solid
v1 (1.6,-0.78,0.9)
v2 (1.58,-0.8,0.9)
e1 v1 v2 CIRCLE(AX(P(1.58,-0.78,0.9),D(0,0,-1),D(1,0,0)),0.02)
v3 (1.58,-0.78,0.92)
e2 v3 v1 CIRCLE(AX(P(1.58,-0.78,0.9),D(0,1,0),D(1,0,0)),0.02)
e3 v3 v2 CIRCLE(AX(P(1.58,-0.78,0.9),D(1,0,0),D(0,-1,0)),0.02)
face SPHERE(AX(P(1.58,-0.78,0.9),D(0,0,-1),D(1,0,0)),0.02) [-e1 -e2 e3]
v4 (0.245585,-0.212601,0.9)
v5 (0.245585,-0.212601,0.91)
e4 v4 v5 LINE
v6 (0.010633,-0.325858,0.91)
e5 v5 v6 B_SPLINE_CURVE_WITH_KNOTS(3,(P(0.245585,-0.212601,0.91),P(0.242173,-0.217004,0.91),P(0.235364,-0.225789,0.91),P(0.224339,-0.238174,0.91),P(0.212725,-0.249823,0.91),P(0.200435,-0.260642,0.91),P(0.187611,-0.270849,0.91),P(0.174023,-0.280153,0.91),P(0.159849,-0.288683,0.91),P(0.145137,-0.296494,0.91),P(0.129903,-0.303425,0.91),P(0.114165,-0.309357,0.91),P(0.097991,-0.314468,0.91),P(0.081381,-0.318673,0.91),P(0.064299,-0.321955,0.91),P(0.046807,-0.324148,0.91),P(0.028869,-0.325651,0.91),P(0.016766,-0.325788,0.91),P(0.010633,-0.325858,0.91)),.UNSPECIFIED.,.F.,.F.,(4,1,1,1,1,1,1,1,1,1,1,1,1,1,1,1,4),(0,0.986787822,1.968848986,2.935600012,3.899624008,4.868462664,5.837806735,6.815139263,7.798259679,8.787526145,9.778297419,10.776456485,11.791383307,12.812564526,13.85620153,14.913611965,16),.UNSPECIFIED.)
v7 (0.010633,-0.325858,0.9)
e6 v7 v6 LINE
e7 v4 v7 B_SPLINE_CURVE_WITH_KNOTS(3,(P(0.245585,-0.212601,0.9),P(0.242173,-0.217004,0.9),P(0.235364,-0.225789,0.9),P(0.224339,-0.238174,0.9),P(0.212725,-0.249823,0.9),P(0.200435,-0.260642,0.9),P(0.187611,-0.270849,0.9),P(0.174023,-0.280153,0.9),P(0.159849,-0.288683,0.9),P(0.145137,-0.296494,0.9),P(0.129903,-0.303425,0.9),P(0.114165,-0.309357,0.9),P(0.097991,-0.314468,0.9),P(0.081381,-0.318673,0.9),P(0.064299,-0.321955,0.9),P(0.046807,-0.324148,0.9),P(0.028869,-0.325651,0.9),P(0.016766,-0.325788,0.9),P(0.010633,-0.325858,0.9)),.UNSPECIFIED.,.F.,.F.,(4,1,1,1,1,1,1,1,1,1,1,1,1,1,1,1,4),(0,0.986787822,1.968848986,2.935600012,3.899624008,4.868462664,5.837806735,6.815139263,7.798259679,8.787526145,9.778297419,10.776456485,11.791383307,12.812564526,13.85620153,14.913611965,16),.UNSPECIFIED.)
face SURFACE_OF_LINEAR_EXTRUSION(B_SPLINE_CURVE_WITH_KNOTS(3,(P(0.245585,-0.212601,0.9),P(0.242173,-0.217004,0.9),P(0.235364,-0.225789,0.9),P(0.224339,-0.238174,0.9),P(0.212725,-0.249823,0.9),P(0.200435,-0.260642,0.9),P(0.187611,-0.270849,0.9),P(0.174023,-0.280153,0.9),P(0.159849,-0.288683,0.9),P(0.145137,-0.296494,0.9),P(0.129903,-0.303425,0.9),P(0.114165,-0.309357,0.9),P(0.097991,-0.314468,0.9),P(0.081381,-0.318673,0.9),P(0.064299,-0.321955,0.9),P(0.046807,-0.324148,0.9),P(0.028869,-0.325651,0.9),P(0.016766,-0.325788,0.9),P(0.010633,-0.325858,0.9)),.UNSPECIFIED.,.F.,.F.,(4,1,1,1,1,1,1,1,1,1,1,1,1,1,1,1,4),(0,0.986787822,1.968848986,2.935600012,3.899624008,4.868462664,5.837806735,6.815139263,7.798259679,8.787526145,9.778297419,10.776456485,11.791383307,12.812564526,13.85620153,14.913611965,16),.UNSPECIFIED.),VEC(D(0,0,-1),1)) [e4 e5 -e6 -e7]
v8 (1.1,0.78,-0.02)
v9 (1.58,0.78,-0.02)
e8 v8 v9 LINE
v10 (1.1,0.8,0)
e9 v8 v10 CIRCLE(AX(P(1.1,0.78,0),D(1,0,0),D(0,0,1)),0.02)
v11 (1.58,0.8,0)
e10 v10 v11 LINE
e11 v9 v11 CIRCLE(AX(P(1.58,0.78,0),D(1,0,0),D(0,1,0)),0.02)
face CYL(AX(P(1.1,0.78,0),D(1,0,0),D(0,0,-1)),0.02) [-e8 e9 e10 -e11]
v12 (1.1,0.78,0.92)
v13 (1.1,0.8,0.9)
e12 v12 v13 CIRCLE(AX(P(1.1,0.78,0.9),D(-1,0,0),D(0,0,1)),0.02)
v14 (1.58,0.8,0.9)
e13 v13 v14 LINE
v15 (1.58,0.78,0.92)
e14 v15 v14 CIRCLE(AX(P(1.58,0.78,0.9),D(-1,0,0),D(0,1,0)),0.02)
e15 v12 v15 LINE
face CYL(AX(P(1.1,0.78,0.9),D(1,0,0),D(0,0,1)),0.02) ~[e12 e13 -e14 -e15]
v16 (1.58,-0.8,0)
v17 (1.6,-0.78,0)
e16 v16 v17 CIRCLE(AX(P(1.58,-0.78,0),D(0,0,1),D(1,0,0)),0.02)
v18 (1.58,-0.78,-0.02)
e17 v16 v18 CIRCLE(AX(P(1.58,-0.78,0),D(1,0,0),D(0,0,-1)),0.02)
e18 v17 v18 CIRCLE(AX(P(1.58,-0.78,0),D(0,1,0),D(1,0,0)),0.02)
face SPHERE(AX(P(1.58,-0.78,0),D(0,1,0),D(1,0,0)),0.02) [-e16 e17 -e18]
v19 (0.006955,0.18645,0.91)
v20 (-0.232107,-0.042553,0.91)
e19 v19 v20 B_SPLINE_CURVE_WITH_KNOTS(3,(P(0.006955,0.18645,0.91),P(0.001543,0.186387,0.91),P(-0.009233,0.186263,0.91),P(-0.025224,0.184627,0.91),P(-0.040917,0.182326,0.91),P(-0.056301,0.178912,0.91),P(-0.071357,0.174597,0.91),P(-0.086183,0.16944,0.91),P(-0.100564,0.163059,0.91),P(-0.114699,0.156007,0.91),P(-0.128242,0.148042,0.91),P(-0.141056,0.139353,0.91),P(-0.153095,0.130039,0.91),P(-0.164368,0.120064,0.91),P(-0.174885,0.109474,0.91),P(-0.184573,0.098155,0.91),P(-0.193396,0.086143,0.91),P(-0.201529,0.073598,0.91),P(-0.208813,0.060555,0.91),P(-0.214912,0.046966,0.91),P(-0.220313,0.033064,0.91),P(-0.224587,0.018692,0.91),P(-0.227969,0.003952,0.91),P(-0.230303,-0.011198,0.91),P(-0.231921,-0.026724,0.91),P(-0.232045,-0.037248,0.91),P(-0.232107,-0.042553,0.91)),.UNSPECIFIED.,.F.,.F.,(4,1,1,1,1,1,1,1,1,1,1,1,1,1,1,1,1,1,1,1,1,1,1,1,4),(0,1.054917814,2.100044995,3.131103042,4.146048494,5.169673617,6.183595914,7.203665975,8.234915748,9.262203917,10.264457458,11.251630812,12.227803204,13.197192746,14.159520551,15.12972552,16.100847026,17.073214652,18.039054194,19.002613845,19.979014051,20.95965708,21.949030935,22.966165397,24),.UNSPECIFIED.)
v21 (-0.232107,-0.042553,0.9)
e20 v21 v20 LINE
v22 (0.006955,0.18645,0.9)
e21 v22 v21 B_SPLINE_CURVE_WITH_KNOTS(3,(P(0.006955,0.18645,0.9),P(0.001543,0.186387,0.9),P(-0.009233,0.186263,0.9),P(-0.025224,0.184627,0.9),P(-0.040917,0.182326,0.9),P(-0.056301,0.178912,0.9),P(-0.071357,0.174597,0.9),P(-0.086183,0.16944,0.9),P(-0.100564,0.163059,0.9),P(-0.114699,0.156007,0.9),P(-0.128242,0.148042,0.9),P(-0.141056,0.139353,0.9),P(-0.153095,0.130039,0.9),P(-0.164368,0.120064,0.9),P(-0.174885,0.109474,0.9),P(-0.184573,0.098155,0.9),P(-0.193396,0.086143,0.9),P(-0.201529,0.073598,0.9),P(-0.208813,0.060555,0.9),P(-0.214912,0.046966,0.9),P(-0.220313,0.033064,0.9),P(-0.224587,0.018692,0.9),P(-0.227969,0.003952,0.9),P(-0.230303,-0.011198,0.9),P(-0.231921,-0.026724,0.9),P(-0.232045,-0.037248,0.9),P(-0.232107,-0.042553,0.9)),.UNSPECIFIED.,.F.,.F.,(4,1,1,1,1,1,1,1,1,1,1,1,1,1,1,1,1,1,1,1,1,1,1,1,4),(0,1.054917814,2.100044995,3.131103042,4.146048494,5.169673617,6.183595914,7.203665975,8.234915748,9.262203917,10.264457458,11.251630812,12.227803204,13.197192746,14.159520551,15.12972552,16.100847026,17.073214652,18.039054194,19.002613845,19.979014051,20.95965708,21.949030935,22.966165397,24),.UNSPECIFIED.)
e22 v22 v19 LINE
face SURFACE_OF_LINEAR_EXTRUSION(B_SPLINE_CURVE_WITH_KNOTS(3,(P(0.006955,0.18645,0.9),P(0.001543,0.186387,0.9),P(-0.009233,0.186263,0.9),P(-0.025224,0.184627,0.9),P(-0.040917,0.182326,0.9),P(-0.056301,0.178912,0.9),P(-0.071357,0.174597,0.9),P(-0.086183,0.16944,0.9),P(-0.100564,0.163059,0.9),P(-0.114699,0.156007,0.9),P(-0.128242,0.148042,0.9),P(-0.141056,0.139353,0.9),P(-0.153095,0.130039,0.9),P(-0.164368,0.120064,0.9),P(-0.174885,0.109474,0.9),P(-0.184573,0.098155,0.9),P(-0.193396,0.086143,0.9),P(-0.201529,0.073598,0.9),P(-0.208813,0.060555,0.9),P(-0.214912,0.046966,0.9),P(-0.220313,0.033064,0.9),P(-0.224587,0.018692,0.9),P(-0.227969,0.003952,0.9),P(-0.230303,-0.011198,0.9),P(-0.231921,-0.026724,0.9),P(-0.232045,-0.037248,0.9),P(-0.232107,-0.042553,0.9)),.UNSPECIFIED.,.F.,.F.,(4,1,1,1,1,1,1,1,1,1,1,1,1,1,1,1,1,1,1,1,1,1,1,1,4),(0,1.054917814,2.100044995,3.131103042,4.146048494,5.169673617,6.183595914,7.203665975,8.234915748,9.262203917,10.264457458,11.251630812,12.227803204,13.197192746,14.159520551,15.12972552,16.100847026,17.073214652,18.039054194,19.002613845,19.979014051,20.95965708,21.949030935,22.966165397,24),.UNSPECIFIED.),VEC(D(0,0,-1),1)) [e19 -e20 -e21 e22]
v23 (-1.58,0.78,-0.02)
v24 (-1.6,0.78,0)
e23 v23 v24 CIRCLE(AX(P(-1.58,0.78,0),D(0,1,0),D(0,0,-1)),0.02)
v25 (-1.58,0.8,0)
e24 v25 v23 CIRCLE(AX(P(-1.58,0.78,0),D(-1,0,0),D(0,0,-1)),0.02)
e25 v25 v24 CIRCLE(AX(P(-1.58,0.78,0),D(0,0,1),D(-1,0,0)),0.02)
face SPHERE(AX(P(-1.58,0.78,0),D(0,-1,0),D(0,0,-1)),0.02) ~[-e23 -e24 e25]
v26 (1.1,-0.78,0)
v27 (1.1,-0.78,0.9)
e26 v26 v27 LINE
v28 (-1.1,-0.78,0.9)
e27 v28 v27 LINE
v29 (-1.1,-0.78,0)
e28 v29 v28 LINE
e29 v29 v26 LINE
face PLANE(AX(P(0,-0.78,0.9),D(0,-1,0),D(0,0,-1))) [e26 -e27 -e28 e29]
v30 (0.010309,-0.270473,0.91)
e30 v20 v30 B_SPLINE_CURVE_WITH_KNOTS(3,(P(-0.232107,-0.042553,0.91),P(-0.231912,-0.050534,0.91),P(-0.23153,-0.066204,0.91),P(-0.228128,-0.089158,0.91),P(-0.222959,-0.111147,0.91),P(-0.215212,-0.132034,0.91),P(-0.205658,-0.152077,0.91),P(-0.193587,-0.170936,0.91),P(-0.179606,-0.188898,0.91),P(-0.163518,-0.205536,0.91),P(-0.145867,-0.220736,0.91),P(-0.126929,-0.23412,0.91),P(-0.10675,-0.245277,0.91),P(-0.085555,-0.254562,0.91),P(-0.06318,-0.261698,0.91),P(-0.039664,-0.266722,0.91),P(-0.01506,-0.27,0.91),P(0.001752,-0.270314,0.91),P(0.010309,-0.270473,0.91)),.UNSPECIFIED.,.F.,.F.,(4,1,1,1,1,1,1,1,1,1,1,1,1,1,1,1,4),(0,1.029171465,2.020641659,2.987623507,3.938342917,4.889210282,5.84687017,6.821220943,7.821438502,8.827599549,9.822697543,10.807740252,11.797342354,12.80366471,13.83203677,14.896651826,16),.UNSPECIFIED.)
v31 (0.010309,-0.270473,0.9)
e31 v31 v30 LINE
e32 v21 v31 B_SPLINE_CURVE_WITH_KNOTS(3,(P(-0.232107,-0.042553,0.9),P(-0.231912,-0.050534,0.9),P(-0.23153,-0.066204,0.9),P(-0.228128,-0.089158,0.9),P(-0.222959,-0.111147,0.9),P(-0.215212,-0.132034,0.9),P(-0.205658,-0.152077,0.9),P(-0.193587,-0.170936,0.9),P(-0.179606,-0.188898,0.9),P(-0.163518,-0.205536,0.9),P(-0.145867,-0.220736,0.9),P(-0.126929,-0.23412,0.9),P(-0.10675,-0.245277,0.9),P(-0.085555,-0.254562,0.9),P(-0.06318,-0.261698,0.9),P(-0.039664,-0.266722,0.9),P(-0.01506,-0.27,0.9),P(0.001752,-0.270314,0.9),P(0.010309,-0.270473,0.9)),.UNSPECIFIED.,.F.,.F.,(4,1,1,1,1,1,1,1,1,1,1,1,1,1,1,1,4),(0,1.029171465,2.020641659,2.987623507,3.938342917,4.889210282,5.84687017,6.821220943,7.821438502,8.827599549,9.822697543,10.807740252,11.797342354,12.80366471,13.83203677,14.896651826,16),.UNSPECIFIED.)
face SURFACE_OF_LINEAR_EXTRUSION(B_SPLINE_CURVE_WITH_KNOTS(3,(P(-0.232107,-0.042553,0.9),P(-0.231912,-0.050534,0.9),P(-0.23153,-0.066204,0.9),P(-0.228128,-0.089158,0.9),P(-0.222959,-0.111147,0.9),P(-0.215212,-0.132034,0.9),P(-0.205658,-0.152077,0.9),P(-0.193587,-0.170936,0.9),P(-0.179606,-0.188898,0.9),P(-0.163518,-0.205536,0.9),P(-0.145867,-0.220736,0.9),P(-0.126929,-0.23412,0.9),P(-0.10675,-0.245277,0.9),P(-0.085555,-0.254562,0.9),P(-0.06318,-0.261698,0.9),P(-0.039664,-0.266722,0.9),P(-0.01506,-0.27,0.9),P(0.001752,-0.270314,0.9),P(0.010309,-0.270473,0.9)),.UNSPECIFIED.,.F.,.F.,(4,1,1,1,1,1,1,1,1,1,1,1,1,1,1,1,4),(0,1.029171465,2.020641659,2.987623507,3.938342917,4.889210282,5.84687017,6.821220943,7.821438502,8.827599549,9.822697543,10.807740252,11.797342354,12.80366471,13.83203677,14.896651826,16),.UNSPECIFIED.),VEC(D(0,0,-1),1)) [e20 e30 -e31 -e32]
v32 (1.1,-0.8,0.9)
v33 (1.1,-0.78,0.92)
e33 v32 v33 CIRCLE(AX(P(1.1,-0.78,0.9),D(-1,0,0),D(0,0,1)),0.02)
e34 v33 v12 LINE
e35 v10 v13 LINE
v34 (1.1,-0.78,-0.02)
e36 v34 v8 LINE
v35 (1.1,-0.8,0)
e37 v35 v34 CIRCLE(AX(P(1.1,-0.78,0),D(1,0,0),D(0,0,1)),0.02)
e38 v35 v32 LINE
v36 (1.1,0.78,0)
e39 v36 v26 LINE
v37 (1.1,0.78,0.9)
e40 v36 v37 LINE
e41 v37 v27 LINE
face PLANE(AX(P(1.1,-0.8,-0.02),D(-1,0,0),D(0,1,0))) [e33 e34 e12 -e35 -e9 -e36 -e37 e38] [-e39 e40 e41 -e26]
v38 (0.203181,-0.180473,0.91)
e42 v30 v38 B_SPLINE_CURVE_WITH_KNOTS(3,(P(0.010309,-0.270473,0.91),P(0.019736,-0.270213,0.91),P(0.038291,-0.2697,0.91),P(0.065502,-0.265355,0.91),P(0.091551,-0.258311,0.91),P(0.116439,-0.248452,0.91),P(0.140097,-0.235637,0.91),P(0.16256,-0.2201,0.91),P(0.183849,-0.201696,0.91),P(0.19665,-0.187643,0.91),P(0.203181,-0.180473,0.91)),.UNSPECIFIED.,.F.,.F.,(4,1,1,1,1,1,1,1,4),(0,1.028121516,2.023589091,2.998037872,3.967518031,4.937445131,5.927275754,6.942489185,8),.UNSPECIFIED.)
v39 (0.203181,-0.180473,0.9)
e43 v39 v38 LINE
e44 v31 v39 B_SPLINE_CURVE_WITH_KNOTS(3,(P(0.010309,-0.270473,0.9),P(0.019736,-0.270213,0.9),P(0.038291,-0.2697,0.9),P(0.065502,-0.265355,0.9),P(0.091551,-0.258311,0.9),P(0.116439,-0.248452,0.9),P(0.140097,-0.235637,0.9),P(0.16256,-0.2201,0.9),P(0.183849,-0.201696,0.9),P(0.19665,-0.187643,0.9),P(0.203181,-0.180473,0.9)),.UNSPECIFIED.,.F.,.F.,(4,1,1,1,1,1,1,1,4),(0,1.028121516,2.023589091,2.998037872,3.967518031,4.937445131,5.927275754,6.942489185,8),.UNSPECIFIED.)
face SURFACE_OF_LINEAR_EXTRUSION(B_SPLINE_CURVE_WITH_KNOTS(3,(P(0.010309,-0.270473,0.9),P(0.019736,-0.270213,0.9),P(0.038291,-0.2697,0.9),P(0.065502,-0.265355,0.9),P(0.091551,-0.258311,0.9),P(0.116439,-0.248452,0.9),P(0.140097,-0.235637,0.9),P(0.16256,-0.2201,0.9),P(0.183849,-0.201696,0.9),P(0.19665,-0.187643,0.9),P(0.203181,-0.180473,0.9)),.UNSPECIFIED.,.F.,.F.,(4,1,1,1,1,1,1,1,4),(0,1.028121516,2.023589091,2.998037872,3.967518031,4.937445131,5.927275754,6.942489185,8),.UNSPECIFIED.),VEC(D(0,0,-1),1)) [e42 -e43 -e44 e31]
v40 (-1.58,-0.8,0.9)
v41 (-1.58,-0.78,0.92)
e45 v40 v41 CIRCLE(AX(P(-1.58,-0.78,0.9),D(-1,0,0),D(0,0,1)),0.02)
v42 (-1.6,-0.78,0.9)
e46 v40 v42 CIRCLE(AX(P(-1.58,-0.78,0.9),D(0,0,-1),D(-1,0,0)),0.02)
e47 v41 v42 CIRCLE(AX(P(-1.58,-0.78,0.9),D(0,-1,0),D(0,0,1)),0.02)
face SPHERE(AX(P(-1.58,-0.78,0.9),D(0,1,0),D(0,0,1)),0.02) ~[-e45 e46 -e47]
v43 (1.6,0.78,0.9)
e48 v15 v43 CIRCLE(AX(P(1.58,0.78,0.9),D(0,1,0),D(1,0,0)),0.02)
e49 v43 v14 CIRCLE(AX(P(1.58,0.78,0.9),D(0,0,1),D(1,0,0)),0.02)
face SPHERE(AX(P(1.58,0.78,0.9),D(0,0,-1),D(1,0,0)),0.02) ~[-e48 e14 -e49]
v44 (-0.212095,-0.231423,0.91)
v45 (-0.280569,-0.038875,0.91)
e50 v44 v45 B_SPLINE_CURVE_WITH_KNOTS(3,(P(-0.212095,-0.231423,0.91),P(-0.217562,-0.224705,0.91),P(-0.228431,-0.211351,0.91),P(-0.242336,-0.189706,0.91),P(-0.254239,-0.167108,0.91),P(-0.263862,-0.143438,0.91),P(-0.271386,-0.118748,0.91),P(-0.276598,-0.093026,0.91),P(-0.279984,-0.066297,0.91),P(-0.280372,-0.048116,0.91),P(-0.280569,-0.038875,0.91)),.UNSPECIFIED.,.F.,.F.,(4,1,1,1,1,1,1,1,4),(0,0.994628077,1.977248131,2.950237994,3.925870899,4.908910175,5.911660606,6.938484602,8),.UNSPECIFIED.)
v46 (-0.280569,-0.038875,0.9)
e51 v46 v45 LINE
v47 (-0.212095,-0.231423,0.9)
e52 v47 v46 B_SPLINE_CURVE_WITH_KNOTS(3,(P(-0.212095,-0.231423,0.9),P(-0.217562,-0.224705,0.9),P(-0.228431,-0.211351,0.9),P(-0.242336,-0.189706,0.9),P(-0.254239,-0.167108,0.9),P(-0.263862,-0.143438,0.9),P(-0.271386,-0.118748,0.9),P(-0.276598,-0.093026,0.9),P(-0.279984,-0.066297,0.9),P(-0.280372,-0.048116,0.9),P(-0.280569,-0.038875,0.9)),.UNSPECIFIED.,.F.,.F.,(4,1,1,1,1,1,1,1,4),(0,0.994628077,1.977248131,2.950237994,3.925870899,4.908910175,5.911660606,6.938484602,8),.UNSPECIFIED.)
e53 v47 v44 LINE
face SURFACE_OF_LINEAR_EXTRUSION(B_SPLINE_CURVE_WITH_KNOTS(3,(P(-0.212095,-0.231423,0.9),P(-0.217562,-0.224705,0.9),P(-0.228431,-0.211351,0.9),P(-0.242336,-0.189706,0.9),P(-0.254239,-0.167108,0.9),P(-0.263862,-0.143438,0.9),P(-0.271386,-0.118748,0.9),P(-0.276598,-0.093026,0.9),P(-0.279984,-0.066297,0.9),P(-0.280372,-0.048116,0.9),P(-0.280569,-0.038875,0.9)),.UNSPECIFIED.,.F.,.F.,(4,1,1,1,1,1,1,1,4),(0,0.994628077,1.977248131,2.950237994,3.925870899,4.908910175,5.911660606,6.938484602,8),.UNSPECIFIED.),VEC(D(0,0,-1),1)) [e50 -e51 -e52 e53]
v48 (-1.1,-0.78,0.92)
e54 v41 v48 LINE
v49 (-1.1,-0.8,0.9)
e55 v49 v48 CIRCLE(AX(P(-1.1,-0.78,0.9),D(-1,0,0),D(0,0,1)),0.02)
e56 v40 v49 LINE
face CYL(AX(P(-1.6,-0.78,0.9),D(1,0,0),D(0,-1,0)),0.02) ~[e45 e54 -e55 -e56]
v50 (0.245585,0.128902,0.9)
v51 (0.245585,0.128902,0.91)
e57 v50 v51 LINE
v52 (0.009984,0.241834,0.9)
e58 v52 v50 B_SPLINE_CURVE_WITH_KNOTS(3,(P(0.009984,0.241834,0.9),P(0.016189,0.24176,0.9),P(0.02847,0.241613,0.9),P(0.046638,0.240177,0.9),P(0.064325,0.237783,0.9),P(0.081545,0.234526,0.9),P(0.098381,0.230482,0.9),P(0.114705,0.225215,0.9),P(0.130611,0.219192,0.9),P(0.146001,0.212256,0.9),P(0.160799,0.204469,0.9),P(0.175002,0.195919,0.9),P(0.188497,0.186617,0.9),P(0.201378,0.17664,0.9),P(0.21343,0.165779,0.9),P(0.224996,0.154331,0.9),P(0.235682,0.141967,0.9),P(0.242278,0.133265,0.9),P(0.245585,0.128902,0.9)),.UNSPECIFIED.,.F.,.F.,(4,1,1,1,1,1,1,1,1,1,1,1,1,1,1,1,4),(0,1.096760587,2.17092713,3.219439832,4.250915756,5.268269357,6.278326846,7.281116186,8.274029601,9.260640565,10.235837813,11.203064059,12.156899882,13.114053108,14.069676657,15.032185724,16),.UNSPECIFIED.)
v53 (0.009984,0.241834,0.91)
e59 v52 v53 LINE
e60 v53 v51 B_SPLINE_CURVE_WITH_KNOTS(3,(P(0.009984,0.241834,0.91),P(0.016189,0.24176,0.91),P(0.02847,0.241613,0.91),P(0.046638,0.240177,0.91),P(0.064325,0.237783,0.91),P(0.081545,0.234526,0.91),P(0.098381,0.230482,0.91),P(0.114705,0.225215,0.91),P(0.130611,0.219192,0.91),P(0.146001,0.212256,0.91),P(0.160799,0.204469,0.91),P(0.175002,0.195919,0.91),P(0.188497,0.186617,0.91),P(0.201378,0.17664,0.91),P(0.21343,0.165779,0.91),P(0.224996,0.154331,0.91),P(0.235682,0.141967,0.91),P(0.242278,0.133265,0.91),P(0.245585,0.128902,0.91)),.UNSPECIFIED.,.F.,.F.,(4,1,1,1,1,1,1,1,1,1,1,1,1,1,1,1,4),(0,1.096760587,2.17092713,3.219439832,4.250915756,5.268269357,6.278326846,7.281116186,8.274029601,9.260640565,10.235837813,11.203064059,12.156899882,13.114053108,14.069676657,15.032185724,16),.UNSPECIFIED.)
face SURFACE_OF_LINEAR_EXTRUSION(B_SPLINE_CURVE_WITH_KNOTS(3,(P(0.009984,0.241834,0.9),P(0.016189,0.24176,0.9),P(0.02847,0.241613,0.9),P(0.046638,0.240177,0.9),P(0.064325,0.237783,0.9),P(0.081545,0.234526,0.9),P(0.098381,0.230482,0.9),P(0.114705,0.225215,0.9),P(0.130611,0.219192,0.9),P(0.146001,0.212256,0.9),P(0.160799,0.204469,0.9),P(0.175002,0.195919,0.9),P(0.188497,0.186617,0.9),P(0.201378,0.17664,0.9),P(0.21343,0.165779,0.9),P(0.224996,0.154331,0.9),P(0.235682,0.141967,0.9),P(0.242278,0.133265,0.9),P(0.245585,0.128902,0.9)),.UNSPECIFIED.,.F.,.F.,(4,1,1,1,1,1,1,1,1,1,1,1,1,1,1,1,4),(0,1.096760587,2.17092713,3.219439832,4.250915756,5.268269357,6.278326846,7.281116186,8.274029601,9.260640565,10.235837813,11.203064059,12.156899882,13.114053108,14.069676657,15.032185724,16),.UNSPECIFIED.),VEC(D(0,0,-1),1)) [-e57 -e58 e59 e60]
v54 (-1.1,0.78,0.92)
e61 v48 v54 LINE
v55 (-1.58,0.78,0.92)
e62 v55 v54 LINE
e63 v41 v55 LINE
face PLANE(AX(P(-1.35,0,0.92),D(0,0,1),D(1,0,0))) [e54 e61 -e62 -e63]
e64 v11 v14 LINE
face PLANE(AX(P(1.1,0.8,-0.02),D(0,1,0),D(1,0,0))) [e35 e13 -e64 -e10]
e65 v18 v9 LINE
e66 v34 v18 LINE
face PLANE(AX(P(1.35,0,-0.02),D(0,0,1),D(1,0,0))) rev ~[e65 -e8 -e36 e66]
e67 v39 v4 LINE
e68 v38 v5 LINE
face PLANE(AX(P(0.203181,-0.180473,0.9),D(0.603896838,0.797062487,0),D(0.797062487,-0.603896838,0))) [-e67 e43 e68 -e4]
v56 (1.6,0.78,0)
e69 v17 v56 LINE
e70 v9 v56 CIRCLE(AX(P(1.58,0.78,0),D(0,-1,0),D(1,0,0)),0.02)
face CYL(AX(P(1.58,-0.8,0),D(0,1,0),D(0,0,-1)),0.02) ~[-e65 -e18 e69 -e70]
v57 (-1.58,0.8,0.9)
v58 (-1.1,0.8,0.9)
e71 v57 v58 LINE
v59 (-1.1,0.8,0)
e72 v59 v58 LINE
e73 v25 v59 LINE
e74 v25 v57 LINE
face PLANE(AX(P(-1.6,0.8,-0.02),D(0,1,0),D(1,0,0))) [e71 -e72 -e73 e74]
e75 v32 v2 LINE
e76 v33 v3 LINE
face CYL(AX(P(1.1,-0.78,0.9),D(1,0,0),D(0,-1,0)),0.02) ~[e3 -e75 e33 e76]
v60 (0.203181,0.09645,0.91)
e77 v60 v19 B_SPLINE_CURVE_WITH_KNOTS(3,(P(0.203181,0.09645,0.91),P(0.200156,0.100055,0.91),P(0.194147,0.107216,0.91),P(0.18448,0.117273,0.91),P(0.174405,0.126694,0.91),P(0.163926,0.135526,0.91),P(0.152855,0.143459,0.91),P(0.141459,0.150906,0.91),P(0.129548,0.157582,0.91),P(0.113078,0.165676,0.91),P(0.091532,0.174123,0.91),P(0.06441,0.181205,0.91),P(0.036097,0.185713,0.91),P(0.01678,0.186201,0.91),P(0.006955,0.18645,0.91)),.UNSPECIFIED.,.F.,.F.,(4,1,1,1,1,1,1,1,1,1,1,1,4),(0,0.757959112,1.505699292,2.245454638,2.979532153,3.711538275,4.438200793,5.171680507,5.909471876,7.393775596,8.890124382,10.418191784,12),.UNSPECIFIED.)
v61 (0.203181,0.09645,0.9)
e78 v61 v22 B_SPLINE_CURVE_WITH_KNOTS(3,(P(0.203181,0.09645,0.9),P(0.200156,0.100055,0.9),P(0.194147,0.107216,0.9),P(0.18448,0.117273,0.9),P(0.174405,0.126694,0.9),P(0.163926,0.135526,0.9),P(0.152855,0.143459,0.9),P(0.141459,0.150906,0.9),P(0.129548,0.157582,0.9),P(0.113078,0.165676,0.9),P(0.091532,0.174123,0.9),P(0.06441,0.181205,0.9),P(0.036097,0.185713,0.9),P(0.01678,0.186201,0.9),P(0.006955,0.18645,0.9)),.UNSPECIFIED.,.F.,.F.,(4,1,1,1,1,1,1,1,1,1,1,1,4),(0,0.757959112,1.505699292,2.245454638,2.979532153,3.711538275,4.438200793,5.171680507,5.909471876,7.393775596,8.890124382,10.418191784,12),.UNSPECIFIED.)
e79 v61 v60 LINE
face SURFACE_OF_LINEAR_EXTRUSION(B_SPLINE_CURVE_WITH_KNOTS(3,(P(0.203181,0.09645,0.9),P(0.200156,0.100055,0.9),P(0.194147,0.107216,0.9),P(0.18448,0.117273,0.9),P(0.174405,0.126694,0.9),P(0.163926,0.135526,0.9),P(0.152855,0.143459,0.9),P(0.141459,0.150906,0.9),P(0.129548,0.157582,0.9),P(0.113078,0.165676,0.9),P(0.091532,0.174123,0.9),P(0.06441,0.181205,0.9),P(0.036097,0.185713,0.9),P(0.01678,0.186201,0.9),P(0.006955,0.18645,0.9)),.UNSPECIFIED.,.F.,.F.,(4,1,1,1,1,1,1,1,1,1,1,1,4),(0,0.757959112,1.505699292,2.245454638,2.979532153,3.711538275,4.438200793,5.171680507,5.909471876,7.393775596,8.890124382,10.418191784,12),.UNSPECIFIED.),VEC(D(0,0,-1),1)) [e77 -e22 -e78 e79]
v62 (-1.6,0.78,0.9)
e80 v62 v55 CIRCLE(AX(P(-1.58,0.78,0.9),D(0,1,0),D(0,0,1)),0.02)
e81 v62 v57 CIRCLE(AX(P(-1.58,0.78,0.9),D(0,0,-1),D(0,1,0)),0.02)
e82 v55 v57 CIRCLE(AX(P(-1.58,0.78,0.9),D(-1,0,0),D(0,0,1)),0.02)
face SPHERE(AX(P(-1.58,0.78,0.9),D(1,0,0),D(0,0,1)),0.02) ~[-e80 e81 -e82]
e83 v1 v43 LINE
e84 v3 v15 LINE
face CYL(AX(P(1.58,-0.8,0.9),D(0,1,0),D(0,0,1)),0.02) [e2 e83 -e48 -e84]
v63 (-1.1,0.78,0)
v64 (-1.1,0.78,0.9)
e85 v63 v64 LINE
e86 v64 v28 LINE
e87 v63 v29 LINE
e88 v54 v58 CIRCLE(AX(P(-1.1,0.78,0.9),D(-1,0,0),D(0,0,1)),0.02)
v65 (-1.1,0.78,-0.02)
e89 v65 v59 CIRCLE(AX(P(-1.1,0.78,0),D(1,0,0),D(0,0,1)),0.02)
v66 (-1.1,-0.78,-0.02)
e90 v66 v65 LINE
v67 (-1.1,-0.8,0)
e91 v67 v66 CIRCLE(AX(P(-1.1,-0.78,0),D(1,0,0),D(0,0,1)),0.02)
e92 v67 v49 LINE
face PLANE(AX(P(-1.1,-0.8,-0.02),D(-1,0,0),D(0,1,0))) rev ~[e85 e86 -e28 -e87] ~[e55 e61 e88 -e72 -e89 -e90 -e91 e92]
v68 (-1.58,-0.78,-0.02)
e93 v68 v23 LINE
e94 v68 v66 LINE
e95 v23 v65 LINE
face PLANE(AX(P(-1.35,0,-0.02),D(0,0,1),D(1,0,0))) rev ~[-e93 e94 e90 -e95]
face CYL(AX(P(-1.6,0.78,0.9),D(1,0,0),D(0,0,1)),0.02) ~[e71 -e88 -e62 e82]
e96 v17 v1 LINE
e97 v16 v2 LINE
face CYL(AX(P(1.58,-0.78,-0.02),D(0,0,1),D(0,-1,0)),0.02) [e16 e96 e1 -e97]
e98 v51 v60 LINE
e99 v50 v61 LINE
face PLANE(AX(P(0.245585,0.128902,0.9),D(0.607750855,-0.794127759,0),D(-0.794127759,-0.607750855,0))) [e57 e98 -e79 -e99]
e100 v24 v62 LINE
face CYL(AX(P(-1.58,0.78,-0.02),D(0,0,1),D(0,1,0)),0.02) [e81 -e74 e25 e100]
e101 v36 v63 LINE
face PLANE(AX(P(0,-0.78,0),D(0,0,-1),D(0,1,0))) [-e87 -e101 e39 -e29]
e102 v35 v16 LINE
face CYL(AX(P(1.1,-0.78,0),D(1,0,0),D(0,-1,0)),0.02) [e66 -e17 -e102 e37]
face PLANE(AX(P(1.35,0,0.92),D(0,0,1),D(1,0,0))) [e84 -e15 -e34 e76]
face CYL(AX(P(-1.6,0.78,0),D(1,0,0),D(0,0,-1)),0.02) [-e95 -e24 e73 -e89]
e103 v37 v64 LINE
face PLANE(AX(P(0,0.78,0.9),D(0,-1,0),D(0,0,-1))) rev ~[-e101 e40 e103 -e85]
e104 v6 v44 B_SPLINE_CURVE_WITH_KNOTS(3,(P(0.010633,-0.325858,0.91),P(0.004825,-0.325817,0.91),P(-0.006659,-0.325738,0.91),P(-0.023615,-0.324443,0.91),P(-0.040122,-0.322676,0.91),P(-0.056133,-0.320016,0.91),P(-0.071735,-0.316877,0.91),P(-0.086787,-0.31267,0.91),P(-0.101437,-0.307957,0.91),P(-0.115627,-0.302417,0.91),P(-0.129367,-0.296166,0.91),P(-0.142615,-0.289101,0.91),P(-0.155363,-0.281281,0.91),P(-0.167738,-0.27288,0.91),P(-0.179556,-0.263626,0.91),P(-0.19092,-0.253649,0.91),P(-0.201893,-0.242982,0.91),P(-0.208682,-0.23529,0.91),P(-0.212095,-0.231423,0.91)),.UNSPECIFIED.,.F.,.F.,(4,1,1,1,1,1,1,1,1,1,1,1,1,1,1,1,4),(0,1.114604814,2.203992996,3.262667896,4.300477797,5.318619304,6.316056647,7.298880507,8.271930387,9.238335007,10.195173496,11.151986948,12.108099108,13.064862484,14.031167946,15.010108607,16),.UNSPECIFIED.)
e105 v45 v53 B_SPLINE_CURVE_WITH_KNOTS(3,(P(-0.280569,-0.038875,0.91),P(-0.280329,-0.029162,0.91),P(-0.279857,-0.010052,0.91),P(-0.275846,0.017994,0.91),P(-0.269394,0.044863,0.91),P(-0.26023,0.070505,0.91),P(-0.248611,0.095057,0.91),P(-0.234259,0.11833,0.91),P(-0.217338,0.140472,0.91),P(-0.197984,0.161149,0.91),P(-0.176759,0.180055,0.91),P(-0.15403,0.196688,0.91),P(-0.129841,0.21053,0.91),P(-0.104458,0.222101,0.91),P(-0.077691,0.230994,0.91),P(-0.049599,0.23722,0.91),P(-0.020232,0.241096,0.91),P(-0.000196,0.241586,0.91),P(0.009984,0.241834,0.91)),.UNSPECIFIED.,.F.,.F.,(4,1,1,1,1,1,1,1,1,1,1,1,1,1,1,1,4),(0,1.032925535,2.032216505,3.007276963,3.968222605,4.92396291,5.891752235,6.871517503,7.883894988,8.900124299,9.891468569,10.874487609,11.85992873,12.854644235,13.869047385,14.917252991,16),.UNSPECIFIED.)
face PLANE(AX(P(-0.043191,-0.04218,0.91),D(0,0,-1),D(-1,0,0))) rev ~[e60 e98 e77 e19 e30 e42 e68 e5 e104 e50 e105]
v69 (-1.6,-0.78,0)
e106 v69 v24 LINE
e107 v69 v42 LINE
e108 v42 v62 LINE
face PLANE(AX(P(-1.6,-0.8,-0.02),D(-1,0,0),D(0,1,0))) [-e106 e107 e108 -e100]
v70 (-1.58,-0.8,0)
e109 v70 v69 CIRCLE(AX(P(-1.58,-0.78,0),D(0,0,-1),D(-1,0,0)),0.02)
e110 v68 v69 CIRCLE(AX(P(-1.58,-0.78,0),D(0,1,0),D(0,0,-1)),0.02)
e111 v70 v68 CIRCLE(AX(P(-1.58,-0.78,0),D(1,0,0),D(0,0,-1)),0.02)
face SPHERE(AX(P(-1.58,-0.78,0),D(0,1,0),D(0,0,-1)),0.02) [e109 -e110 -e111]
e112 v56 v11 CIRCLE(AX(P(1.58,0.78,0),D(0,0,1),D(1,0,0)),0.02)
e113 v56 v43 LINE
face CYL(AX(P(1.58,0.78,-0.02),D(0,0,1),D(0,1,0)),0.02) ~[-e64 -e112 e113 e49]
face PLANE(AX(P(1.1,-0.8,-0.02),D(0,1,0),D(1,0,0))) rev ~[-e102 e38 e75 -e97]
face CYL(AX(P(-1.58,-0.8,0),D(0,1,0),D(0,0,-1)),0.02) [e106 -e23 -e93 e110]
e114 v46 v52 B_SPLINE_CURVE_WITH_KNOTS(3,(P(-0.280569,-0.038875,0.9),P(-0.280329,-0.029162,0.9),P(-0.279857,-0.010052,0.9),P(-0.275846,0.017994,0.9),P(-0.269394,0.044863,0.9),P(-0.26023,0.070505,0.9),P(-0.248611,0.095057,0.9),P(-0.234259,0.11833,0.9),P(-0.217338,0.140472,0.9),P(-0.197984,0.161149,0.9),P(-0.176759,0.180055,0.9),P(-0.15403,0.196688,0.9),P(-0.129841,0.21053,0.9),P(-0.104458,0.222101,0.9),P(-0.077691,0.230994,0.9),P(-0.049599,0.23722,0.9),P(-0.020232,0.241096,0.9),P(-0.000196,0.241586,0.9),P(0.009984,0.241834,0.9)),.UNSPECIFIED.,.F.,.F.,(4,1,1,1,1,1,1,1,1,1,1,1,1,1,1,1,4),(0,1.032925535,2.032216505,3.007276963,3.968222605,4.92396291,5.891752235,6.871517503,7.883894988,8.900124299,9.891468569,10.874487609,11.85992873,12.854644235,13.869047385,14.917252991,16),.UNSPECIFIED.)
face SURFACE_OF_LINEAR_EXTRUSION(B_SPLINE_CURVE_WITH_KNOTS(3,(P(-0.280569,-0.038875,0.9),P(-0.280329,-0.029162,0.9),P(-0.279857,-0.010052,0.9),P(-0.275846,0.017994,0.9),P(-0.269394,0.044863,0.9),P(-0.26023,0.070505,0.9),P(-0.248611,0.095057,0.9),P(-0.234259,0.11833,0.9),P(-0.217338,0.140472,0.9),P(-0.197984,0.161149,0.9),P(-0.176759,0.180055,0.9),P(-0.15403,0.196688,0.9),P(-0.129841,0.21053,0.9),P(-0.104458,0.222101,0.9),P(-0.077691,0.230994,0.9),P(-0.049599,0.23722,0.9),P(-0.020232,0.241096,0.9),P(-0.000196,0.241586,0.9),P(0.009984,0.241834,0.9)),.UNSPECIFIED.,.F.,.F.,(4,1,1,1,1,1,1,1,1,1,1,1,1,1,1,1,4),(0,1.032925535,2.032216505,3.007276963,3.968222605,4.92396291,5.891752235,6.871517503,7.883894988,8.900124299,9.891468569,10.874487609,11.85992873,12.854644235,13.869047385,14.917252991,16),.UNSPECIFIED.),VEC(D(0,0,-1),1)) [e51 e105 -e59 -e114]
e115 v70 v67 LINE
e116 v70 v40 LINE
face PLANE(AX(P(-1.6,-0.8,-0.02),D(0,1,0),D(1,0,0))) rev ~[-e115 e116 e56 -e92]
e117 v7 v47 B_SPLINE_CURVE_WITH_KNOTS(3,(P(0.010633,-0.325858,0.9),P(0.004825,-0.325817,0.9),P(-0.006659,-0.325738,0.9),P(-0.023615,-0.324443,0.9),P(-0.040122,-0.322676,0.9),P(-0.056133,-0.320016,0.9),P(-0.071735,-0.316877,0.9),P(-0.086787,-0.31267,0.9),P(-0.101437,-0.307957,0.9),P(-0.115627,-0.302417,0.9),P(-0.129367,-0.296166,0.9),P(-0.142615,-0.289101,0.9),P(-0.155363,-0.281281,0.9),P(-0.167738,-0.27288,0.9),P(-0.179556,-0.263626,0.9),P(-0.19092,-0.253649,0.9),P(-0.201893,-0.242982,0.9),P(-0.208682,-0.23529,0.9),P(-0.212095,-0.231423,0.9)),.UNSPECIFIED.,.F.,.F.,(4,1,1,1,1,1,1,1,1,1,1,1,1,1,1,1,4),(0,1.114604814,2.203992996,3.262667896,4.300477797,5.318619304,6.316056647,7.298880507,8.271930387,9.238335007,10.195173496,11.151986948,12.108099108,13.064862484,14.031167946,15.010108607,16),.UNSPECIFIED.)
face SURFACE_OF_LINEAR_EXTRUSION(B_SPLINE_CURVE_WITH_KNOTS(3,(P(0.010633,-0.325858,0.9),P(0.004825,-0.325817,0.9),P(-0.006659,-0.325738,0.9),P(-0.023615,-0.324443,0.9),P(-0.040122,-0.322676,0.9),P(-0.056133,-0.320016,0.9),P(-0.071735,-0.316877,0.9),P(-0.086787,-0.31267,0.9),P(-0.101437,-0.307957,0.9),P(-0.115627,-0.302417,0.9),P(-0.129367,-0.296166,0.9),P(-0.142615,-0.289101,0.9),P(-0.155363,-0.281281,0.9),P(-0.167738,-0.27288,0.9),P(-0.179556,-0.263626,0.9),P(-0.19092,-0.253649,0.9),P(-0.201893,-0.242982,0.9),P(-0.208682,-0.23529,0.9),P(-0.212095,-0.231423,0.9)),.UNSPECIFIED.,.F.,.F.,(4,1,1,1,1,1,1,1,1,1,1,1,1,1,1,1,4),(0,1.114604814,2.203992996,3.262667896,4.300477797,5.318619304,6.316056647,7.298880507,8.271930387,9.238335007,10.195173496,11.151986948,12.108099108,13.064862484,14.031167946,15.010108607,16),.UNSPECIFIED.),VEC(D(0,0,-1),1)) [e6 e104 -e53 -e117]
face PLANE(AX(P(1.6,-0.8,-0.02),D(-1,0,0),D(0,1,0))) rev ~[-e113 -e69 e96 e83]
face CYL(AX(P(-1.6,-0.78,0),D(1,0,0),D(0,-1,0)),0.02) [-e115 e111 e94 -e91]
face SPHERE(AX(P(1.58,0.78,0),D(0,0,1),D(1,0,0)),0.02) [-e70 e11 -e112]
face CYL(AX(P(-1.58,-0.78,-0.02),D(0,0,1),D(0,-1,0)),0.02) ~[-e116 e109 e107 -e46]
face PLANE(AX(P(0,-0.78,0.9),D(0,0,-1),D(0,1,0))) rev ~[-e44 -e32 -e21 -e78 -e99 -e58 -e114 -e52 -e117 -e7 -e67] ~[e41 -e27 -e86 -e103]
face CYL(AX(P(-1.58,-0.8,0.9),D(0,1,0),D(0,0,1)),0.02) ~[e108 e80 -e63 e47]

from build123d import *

# Parameters (mm, degrees)
EXTRUDE_1_DEPTH        = 0.92
EXTRUDE_1_DEPTH_BACK   = 0.02
SKETCH_3_W             = 0.5
SKETCH_3_H             = 1.6
EXTRUDE_1_2_DEPTH      = 0.92
EXTRUDE_1_2_DEPTH_BACK = 0.02
SKETCH_5_W             = 0.9
SKETCH_5_H             = 1.56
EXTRUDE_3_DEPTH        = 1.11
FILLET_3_R             = 0.02
EXTRUDE_4_DEPTH        = 0.01


with BuildPart() as part:
    # 草图3 → 凸台-拉伸1 (new, two sides: drawn at the far end of the back side and taken through both)
    with BuildSketch(Plane.XY.offset(-EXTRUDE_1_DEPTH_BACK)):
        with Locations((-1.35, 0)):
            Rectangle(SKETCH_3_W, SKETCH_3_H)
    extrude(amount=EXTRUDE_1_DEPTH + EXTRUDE_1_DEPTH_BACK)



with BuildPart() as body_2:
    # 草图3 → Extrude 1 2 (new, two sides: drawn at the far end of the back side and taken through both)
    with BuildSketch(Plane.XY.offset(-EXTRUDE_1_2_DEPTH_BACK)):
        with Locations((1.35, 0)):
            Rectangle(SKETCH_3_W, SKETCH_3_H)
    extrude(amount=EXTRUDE_1_2_DEPTH + EXTRUDE_1_2_DEPTH_BACK)


with BuildPart() as part_1:
    add(part.part)

    add(body_2.part)  # 凸台-拉伸3 merges body 2
    # 草图5 → 凸台-拉伸3 (add, symmetric)
    with BuildSketch(Plane(origin=(0, 0, 0), x_dir=(0, 0, -1), z_dir=(1, 0, 0))):
        with Locations((-0.45, 0)):
            Rectangle(SKETCH_5_W, SKETCH_5_H)
    extrude(amount=EXTRUDE_3_DEPTH, both=True)

    # 圆角3
    fillet_3_edges = [part_1.edges().sort_by_distance(p)[0] for p in [
        (-1.6, 0, -0.02),
        (-1.35, 0.8, 0.92),
        (-1.35, -0.8, -0.02),
        (-1.6, 0, 0.92),
        (-1.35, -0.8, 0.92),
        (1.6, 0.8, 0.45),
        (1.6, 0, -0.02),
        (1.6, -0.8, 0.45),
        (1.35, -0.8, -0.02),
        (1.35, 0.8, -0.02),
        (1.6, 0, 0.92),
        (1.35, 0.8, 0.92),
        (1.35, -0.8, 0.92),
        (-1.35, 0.8, -0.02),
        (-1.6, -0.8, 0.45),
        (-1.6, 0.8, 0.45),
    ]]
    fillet(fillet_3_edges, radius=FILLET_3_R)

    # 草图6 → 凸台-拉伸4 (add)
    with BuildSketch(Plane.XY.offset(0.9)):
        with BuildLine():
            Line((0.245585191, 0.128901731), (0.203181345, 0.096449807))
            add(Edge.make_bspline(
                [(0.203181345, 0.096449807), (0.200156436, 0.100054843), (0.194147402, 0.10721631), (0.184479982, 0.117272582), (0.174404871, 0.12669408), (0.163925921, 0.135525684), (0.152854514, 0.143458557), (0.141458848, 0.150906098), (0.129548292, 0.157581692), (0.113078025, 0.165675981), (0.091532357, 0.174122531), (0.064409724, 0.181204744), (0.036096583, 0.185713154), (0.016780382, 0.186201444), (0.006955383, 0.186449807)],
                knots=[0, 0, 0, 0, 0.757959112, 1.505699292, 2.245454638, 2.979532153, 3.711538275, 4.438200793, 5.171680507, 5.909471876, 7.393775596, 8.890124382, 10.418191784, 12, 12, 12, 12], degree=3))
            add(Edge.make_bspline(
                [(0.006955383, 0.186449807), (0.001542531, 0.186387482), (-0.009232936, 0.186263409), (-0.025224415, 0.184626573), (-0.040917286, 0.182325986), (-0.05630134, 0.178912365), (-0.071356997, 0.174596589), (-0.086182682, 0.169439525), (-0.100563746, 0.163059064), (-0.114699131, 0.156006933), (-0.128242209, 0.148041555), (-0.141056417, 0.13935321), (-0.153095018, 0.130039121), (-0.164367535, 0.120064378), (-0.174885493, 0.109473905), (-0.184572678, 0.098154835), (-0.19339557, 0.086143356), (-0.201529053, 0.073597859), (-0.208813304, 0.060554886), (-0.214912199, 0.046966161), (-0.22031299, 0.033064385), (-0.224586587, 0.018692491), (-0.227969227, 0.003951607), (-0.230303209, -0.011197828), (-0.23192143, -0.026724168), (-0.232044886, -0.03724789), (-0.232107117, -0.042552596)],
                knots=[0, 0, 0, 0, 1.054917814, 2.100044995, 3.131103042, 4.146048494, 5.169673617, 6.183595914, 7.203665975, 8.234915748, 9.262203917, 10.264457458, 11.251630812, 12.227803204, 13.197192746, 14.159520551, 15.12972552, 16.100847026, 17.073214652, 18.039054194, 19.002613845, 19.979014051, 20.95965708, 21.949030935, 22.966165397, 24, 24, 24, 24], degree=3))
            add(Edge.make_bspline(
                [(-0.232107117, -0.042552596), (-0.231912436, -0.050534), (-0.231530207, -0.066204427), (-0.228128464, -0.089157607), (-0.222959107, -0.111146511), (-0.215211561, -0.132033687), (-0.205658336, -0.152076691), (-0.193586927, -0.1709364), (-0.17960609, -0.188897812), (-0.163518036, -0.205536439), (-0.145866853, -0.220735699), (-0.126928604, -0.234120074), (-0.106750457, -0.245277228), (-0.085555205, -0.254561517), (-0.063179748, -0.261698269), (-0.039664321, -0.266722448), (-0.01506007, -0.269999813), (0.001752351, -0.270313582), (0.010308749, -0.270473269)],
                knots=[0, 0, 0, 0, 1.029171465, 2.020641659, 2.987623507, 3.938342917, 4.889210282, 5.84687017, 6.821220943, 7.821438502, 8.827599549, 9.822697543, 10.807740252, 11.797342354, 12.80366471, 13.83203677, 14.896651826, 16, 16, 16, 16], degree=3))
            add(Edge.make_bspline(
                [(0.010308749, -0.270473269), (0.019736021, -0.270212715), (0.038291147, -0.269699881), (0.065502214, -0.265355311), (0.091551161, -0.258310947), (0.116439388, -0.24845241), (0.140096734, -0.235636623), (0.162560218, -0.220100379), (0.183848804, -0.201695893), (0.196650087, -0.187643068), (0.203181345, -0.180473269)],
                knots=[0, 0, 0, 0, 1.028121516, 2.023589091, 2.998037872, 3.967518031, 4.937445131, 5.927275754, 6.942489185, 8, 8, 8, 8], degree=3))
            Line((0.203181345, -0.180473269), (0.245585191, -0.212600673))
            add(Edge.make_bspline(
                [(0.245585191, -0.212600673), (0.242172682, -0.217003749), (0.235364011, -0.225788809), (0.22433906, -0.238173587), (0.212724849, -0.249822781), (0.20043511, -0.260642471), (0.187611223, -0.27084916), (0.174022923, -0.280152871), (0.159848844, -0.288683465), (0.14513701, -0.296494476), (0.129903052, -0.303424566), (0.114165225, -0.309357433), (0.097991365, -0.31446813), (0.081380732, -0.318672715), (0.064298873, -0.321954539), (0.046807428, -0.324148432), (0.028868647, -0.32565147), (0.016766257, -0.325788463), (0.010633268, -0.325857885)],
                knots=[0, 0, 0, 0, 0.986787822, 1.968848986, 2.935600012, 3.899624008, 4.868462664, 5.837806735, 6.815139263, 7.798259679, 8.787526145, 9.778297419, 10.776456485, 11.791383307, 12.812564526, 13.85620153, 14.913611965, 16, 16, 16, 16], degree=3))
            add(Edge.make_bspline(
                [(0.010633268, -0.325857885), (0.004825388, -0.325817463), (-0.006658976, -0.325737534), (-0.023614783, -0.324442743), (-0.040121747, -0.322676212), (-0.056132689, -0.320016306), (-0.071734983, -0.316877465), (-0.086787187, -0.3126699), (-0.10143742, -0.3079566), (-0.115626821, -0.302416973), (-0.12936746, -0.296165905), (-0.14261502, -0.289100921), (-0.155363406, -0.281281434), (-0.167737957, -0.272879804), (-0.17955587, -0.263626163), (-0.190919557, -0.253649025), (-0.201892739, -0.242982017), (-0.208681724, -0.235290126), (-0.212095098, -0.231422789)],
                knots=[0, 0, 0, 0, 1.114604814, 2.203992996, 3.262667896, 4.300477797, 5.318619304, 6.316056647, 7.298880507, 8.271930387, 9.238335007, 10.195173496, 11.151986948, 12.108099108, 13.064862484, 14.031167946, 15.010108607, 16, 16, 16, 16], degree=3))
            add(Edge.make_bspline(
                [(-0.212095098, -0.231422789), (-0.217562311, -0.224705005), (-0.228430733, -0.211350541), (-0.242335839, -0.189706419), (-0.254238604, -0.167108466), (-0.263862318, -0.143437963), (-0.271385711, -0.118748023), (-0.276597667, -0.093026201), (-0.279984486, -0.066296519), (-0.280371788, -0.048115985), (-0.280568655, -0.038874712)],
                knots=[0, 0, 0, 0, 0.994628077, 1.977248131, 2.950237994, 3.925870899, 4.908910175, 5.911660606, 6.938484602, 8, 8, 8, 8], degree=3))
            add(Edge.make_bspline(
                [(-0.280568655, -0.038874712), (-0.280328711, -0.029161585), (-0.279856636, -0.010051613), (-0.275845856, 0.017993511), (-0.269393813, 0.044862584), (-0.260229722, 0.070505447), (-0.248611182, 0.095056976), (-0.234258504, 0.118329619), (-0.217338431, 0.140472211), (-0.197983664, 0.161148773), (-0.176758989, 0.180054844), (-0.1540298, 0.196687801), (-0.129840586, 0.210529933), (-0.104457832, 0.222100769), (-0.077691469, 0.230994486), (-0.049598607, 0.237220406), (-0.020232031, 0.241095619), (-0.000196114, 0.241585508), (0.009984229, 0.241834423)],
                knots=[0, 0, 0, 0, 1.032925535, 2.032216505, 3.007276963, 3.968222605, 4.92396291, 5.891752235, 6.871517503, 7.883894988, 8.900124299, 9.891468569, 10.874487609, 11.85992873, 12.854644235, 13.869047385, 14.917252991, 16, 16, 16, 16], degree=3))
            add(Edge.make_bspline(
                [(0.009984229, 0.241834423), (0.016188748, 0.241760036), (0.028469967, 0.241612794), (0.046637519, 0.240176989), (0.064325193, 0.237783462), (0.081545173, 0.234525554), (0.098381234, 0.230482138), (0.114704699, 0.225214778), (0.130611354, 0.219191999), (0.146000877, 0.21225555), (0.16079943, 0.204469253), (0.175002405, 0.195919414), (0.188496983, 0.186616632), (0.20137812, 0.176640028), (0.213430335, 0.165778536), (0.224995821, 0.154330907), (0.235681816, 0.141967403), (0.242278023, 0.133264927), (0.245585191, 0.128901731)],
                knots=[0, 0, 0, 0, 1.096760587, 2.17092713, 3.219439832, 4.250915756, 5.268269357, 6.278326846, 7.281116186, 8.274029601, 9.260640565, 10.235837813, 11.203064059, 12.156899882, 13.114053108, 14.069676657, 15.032185724, 16, 16, 16, 16], degree=3))
        make_face()
    extrude(amount=EXTRUDE_4_DEPTH)


solid = part_1.part
